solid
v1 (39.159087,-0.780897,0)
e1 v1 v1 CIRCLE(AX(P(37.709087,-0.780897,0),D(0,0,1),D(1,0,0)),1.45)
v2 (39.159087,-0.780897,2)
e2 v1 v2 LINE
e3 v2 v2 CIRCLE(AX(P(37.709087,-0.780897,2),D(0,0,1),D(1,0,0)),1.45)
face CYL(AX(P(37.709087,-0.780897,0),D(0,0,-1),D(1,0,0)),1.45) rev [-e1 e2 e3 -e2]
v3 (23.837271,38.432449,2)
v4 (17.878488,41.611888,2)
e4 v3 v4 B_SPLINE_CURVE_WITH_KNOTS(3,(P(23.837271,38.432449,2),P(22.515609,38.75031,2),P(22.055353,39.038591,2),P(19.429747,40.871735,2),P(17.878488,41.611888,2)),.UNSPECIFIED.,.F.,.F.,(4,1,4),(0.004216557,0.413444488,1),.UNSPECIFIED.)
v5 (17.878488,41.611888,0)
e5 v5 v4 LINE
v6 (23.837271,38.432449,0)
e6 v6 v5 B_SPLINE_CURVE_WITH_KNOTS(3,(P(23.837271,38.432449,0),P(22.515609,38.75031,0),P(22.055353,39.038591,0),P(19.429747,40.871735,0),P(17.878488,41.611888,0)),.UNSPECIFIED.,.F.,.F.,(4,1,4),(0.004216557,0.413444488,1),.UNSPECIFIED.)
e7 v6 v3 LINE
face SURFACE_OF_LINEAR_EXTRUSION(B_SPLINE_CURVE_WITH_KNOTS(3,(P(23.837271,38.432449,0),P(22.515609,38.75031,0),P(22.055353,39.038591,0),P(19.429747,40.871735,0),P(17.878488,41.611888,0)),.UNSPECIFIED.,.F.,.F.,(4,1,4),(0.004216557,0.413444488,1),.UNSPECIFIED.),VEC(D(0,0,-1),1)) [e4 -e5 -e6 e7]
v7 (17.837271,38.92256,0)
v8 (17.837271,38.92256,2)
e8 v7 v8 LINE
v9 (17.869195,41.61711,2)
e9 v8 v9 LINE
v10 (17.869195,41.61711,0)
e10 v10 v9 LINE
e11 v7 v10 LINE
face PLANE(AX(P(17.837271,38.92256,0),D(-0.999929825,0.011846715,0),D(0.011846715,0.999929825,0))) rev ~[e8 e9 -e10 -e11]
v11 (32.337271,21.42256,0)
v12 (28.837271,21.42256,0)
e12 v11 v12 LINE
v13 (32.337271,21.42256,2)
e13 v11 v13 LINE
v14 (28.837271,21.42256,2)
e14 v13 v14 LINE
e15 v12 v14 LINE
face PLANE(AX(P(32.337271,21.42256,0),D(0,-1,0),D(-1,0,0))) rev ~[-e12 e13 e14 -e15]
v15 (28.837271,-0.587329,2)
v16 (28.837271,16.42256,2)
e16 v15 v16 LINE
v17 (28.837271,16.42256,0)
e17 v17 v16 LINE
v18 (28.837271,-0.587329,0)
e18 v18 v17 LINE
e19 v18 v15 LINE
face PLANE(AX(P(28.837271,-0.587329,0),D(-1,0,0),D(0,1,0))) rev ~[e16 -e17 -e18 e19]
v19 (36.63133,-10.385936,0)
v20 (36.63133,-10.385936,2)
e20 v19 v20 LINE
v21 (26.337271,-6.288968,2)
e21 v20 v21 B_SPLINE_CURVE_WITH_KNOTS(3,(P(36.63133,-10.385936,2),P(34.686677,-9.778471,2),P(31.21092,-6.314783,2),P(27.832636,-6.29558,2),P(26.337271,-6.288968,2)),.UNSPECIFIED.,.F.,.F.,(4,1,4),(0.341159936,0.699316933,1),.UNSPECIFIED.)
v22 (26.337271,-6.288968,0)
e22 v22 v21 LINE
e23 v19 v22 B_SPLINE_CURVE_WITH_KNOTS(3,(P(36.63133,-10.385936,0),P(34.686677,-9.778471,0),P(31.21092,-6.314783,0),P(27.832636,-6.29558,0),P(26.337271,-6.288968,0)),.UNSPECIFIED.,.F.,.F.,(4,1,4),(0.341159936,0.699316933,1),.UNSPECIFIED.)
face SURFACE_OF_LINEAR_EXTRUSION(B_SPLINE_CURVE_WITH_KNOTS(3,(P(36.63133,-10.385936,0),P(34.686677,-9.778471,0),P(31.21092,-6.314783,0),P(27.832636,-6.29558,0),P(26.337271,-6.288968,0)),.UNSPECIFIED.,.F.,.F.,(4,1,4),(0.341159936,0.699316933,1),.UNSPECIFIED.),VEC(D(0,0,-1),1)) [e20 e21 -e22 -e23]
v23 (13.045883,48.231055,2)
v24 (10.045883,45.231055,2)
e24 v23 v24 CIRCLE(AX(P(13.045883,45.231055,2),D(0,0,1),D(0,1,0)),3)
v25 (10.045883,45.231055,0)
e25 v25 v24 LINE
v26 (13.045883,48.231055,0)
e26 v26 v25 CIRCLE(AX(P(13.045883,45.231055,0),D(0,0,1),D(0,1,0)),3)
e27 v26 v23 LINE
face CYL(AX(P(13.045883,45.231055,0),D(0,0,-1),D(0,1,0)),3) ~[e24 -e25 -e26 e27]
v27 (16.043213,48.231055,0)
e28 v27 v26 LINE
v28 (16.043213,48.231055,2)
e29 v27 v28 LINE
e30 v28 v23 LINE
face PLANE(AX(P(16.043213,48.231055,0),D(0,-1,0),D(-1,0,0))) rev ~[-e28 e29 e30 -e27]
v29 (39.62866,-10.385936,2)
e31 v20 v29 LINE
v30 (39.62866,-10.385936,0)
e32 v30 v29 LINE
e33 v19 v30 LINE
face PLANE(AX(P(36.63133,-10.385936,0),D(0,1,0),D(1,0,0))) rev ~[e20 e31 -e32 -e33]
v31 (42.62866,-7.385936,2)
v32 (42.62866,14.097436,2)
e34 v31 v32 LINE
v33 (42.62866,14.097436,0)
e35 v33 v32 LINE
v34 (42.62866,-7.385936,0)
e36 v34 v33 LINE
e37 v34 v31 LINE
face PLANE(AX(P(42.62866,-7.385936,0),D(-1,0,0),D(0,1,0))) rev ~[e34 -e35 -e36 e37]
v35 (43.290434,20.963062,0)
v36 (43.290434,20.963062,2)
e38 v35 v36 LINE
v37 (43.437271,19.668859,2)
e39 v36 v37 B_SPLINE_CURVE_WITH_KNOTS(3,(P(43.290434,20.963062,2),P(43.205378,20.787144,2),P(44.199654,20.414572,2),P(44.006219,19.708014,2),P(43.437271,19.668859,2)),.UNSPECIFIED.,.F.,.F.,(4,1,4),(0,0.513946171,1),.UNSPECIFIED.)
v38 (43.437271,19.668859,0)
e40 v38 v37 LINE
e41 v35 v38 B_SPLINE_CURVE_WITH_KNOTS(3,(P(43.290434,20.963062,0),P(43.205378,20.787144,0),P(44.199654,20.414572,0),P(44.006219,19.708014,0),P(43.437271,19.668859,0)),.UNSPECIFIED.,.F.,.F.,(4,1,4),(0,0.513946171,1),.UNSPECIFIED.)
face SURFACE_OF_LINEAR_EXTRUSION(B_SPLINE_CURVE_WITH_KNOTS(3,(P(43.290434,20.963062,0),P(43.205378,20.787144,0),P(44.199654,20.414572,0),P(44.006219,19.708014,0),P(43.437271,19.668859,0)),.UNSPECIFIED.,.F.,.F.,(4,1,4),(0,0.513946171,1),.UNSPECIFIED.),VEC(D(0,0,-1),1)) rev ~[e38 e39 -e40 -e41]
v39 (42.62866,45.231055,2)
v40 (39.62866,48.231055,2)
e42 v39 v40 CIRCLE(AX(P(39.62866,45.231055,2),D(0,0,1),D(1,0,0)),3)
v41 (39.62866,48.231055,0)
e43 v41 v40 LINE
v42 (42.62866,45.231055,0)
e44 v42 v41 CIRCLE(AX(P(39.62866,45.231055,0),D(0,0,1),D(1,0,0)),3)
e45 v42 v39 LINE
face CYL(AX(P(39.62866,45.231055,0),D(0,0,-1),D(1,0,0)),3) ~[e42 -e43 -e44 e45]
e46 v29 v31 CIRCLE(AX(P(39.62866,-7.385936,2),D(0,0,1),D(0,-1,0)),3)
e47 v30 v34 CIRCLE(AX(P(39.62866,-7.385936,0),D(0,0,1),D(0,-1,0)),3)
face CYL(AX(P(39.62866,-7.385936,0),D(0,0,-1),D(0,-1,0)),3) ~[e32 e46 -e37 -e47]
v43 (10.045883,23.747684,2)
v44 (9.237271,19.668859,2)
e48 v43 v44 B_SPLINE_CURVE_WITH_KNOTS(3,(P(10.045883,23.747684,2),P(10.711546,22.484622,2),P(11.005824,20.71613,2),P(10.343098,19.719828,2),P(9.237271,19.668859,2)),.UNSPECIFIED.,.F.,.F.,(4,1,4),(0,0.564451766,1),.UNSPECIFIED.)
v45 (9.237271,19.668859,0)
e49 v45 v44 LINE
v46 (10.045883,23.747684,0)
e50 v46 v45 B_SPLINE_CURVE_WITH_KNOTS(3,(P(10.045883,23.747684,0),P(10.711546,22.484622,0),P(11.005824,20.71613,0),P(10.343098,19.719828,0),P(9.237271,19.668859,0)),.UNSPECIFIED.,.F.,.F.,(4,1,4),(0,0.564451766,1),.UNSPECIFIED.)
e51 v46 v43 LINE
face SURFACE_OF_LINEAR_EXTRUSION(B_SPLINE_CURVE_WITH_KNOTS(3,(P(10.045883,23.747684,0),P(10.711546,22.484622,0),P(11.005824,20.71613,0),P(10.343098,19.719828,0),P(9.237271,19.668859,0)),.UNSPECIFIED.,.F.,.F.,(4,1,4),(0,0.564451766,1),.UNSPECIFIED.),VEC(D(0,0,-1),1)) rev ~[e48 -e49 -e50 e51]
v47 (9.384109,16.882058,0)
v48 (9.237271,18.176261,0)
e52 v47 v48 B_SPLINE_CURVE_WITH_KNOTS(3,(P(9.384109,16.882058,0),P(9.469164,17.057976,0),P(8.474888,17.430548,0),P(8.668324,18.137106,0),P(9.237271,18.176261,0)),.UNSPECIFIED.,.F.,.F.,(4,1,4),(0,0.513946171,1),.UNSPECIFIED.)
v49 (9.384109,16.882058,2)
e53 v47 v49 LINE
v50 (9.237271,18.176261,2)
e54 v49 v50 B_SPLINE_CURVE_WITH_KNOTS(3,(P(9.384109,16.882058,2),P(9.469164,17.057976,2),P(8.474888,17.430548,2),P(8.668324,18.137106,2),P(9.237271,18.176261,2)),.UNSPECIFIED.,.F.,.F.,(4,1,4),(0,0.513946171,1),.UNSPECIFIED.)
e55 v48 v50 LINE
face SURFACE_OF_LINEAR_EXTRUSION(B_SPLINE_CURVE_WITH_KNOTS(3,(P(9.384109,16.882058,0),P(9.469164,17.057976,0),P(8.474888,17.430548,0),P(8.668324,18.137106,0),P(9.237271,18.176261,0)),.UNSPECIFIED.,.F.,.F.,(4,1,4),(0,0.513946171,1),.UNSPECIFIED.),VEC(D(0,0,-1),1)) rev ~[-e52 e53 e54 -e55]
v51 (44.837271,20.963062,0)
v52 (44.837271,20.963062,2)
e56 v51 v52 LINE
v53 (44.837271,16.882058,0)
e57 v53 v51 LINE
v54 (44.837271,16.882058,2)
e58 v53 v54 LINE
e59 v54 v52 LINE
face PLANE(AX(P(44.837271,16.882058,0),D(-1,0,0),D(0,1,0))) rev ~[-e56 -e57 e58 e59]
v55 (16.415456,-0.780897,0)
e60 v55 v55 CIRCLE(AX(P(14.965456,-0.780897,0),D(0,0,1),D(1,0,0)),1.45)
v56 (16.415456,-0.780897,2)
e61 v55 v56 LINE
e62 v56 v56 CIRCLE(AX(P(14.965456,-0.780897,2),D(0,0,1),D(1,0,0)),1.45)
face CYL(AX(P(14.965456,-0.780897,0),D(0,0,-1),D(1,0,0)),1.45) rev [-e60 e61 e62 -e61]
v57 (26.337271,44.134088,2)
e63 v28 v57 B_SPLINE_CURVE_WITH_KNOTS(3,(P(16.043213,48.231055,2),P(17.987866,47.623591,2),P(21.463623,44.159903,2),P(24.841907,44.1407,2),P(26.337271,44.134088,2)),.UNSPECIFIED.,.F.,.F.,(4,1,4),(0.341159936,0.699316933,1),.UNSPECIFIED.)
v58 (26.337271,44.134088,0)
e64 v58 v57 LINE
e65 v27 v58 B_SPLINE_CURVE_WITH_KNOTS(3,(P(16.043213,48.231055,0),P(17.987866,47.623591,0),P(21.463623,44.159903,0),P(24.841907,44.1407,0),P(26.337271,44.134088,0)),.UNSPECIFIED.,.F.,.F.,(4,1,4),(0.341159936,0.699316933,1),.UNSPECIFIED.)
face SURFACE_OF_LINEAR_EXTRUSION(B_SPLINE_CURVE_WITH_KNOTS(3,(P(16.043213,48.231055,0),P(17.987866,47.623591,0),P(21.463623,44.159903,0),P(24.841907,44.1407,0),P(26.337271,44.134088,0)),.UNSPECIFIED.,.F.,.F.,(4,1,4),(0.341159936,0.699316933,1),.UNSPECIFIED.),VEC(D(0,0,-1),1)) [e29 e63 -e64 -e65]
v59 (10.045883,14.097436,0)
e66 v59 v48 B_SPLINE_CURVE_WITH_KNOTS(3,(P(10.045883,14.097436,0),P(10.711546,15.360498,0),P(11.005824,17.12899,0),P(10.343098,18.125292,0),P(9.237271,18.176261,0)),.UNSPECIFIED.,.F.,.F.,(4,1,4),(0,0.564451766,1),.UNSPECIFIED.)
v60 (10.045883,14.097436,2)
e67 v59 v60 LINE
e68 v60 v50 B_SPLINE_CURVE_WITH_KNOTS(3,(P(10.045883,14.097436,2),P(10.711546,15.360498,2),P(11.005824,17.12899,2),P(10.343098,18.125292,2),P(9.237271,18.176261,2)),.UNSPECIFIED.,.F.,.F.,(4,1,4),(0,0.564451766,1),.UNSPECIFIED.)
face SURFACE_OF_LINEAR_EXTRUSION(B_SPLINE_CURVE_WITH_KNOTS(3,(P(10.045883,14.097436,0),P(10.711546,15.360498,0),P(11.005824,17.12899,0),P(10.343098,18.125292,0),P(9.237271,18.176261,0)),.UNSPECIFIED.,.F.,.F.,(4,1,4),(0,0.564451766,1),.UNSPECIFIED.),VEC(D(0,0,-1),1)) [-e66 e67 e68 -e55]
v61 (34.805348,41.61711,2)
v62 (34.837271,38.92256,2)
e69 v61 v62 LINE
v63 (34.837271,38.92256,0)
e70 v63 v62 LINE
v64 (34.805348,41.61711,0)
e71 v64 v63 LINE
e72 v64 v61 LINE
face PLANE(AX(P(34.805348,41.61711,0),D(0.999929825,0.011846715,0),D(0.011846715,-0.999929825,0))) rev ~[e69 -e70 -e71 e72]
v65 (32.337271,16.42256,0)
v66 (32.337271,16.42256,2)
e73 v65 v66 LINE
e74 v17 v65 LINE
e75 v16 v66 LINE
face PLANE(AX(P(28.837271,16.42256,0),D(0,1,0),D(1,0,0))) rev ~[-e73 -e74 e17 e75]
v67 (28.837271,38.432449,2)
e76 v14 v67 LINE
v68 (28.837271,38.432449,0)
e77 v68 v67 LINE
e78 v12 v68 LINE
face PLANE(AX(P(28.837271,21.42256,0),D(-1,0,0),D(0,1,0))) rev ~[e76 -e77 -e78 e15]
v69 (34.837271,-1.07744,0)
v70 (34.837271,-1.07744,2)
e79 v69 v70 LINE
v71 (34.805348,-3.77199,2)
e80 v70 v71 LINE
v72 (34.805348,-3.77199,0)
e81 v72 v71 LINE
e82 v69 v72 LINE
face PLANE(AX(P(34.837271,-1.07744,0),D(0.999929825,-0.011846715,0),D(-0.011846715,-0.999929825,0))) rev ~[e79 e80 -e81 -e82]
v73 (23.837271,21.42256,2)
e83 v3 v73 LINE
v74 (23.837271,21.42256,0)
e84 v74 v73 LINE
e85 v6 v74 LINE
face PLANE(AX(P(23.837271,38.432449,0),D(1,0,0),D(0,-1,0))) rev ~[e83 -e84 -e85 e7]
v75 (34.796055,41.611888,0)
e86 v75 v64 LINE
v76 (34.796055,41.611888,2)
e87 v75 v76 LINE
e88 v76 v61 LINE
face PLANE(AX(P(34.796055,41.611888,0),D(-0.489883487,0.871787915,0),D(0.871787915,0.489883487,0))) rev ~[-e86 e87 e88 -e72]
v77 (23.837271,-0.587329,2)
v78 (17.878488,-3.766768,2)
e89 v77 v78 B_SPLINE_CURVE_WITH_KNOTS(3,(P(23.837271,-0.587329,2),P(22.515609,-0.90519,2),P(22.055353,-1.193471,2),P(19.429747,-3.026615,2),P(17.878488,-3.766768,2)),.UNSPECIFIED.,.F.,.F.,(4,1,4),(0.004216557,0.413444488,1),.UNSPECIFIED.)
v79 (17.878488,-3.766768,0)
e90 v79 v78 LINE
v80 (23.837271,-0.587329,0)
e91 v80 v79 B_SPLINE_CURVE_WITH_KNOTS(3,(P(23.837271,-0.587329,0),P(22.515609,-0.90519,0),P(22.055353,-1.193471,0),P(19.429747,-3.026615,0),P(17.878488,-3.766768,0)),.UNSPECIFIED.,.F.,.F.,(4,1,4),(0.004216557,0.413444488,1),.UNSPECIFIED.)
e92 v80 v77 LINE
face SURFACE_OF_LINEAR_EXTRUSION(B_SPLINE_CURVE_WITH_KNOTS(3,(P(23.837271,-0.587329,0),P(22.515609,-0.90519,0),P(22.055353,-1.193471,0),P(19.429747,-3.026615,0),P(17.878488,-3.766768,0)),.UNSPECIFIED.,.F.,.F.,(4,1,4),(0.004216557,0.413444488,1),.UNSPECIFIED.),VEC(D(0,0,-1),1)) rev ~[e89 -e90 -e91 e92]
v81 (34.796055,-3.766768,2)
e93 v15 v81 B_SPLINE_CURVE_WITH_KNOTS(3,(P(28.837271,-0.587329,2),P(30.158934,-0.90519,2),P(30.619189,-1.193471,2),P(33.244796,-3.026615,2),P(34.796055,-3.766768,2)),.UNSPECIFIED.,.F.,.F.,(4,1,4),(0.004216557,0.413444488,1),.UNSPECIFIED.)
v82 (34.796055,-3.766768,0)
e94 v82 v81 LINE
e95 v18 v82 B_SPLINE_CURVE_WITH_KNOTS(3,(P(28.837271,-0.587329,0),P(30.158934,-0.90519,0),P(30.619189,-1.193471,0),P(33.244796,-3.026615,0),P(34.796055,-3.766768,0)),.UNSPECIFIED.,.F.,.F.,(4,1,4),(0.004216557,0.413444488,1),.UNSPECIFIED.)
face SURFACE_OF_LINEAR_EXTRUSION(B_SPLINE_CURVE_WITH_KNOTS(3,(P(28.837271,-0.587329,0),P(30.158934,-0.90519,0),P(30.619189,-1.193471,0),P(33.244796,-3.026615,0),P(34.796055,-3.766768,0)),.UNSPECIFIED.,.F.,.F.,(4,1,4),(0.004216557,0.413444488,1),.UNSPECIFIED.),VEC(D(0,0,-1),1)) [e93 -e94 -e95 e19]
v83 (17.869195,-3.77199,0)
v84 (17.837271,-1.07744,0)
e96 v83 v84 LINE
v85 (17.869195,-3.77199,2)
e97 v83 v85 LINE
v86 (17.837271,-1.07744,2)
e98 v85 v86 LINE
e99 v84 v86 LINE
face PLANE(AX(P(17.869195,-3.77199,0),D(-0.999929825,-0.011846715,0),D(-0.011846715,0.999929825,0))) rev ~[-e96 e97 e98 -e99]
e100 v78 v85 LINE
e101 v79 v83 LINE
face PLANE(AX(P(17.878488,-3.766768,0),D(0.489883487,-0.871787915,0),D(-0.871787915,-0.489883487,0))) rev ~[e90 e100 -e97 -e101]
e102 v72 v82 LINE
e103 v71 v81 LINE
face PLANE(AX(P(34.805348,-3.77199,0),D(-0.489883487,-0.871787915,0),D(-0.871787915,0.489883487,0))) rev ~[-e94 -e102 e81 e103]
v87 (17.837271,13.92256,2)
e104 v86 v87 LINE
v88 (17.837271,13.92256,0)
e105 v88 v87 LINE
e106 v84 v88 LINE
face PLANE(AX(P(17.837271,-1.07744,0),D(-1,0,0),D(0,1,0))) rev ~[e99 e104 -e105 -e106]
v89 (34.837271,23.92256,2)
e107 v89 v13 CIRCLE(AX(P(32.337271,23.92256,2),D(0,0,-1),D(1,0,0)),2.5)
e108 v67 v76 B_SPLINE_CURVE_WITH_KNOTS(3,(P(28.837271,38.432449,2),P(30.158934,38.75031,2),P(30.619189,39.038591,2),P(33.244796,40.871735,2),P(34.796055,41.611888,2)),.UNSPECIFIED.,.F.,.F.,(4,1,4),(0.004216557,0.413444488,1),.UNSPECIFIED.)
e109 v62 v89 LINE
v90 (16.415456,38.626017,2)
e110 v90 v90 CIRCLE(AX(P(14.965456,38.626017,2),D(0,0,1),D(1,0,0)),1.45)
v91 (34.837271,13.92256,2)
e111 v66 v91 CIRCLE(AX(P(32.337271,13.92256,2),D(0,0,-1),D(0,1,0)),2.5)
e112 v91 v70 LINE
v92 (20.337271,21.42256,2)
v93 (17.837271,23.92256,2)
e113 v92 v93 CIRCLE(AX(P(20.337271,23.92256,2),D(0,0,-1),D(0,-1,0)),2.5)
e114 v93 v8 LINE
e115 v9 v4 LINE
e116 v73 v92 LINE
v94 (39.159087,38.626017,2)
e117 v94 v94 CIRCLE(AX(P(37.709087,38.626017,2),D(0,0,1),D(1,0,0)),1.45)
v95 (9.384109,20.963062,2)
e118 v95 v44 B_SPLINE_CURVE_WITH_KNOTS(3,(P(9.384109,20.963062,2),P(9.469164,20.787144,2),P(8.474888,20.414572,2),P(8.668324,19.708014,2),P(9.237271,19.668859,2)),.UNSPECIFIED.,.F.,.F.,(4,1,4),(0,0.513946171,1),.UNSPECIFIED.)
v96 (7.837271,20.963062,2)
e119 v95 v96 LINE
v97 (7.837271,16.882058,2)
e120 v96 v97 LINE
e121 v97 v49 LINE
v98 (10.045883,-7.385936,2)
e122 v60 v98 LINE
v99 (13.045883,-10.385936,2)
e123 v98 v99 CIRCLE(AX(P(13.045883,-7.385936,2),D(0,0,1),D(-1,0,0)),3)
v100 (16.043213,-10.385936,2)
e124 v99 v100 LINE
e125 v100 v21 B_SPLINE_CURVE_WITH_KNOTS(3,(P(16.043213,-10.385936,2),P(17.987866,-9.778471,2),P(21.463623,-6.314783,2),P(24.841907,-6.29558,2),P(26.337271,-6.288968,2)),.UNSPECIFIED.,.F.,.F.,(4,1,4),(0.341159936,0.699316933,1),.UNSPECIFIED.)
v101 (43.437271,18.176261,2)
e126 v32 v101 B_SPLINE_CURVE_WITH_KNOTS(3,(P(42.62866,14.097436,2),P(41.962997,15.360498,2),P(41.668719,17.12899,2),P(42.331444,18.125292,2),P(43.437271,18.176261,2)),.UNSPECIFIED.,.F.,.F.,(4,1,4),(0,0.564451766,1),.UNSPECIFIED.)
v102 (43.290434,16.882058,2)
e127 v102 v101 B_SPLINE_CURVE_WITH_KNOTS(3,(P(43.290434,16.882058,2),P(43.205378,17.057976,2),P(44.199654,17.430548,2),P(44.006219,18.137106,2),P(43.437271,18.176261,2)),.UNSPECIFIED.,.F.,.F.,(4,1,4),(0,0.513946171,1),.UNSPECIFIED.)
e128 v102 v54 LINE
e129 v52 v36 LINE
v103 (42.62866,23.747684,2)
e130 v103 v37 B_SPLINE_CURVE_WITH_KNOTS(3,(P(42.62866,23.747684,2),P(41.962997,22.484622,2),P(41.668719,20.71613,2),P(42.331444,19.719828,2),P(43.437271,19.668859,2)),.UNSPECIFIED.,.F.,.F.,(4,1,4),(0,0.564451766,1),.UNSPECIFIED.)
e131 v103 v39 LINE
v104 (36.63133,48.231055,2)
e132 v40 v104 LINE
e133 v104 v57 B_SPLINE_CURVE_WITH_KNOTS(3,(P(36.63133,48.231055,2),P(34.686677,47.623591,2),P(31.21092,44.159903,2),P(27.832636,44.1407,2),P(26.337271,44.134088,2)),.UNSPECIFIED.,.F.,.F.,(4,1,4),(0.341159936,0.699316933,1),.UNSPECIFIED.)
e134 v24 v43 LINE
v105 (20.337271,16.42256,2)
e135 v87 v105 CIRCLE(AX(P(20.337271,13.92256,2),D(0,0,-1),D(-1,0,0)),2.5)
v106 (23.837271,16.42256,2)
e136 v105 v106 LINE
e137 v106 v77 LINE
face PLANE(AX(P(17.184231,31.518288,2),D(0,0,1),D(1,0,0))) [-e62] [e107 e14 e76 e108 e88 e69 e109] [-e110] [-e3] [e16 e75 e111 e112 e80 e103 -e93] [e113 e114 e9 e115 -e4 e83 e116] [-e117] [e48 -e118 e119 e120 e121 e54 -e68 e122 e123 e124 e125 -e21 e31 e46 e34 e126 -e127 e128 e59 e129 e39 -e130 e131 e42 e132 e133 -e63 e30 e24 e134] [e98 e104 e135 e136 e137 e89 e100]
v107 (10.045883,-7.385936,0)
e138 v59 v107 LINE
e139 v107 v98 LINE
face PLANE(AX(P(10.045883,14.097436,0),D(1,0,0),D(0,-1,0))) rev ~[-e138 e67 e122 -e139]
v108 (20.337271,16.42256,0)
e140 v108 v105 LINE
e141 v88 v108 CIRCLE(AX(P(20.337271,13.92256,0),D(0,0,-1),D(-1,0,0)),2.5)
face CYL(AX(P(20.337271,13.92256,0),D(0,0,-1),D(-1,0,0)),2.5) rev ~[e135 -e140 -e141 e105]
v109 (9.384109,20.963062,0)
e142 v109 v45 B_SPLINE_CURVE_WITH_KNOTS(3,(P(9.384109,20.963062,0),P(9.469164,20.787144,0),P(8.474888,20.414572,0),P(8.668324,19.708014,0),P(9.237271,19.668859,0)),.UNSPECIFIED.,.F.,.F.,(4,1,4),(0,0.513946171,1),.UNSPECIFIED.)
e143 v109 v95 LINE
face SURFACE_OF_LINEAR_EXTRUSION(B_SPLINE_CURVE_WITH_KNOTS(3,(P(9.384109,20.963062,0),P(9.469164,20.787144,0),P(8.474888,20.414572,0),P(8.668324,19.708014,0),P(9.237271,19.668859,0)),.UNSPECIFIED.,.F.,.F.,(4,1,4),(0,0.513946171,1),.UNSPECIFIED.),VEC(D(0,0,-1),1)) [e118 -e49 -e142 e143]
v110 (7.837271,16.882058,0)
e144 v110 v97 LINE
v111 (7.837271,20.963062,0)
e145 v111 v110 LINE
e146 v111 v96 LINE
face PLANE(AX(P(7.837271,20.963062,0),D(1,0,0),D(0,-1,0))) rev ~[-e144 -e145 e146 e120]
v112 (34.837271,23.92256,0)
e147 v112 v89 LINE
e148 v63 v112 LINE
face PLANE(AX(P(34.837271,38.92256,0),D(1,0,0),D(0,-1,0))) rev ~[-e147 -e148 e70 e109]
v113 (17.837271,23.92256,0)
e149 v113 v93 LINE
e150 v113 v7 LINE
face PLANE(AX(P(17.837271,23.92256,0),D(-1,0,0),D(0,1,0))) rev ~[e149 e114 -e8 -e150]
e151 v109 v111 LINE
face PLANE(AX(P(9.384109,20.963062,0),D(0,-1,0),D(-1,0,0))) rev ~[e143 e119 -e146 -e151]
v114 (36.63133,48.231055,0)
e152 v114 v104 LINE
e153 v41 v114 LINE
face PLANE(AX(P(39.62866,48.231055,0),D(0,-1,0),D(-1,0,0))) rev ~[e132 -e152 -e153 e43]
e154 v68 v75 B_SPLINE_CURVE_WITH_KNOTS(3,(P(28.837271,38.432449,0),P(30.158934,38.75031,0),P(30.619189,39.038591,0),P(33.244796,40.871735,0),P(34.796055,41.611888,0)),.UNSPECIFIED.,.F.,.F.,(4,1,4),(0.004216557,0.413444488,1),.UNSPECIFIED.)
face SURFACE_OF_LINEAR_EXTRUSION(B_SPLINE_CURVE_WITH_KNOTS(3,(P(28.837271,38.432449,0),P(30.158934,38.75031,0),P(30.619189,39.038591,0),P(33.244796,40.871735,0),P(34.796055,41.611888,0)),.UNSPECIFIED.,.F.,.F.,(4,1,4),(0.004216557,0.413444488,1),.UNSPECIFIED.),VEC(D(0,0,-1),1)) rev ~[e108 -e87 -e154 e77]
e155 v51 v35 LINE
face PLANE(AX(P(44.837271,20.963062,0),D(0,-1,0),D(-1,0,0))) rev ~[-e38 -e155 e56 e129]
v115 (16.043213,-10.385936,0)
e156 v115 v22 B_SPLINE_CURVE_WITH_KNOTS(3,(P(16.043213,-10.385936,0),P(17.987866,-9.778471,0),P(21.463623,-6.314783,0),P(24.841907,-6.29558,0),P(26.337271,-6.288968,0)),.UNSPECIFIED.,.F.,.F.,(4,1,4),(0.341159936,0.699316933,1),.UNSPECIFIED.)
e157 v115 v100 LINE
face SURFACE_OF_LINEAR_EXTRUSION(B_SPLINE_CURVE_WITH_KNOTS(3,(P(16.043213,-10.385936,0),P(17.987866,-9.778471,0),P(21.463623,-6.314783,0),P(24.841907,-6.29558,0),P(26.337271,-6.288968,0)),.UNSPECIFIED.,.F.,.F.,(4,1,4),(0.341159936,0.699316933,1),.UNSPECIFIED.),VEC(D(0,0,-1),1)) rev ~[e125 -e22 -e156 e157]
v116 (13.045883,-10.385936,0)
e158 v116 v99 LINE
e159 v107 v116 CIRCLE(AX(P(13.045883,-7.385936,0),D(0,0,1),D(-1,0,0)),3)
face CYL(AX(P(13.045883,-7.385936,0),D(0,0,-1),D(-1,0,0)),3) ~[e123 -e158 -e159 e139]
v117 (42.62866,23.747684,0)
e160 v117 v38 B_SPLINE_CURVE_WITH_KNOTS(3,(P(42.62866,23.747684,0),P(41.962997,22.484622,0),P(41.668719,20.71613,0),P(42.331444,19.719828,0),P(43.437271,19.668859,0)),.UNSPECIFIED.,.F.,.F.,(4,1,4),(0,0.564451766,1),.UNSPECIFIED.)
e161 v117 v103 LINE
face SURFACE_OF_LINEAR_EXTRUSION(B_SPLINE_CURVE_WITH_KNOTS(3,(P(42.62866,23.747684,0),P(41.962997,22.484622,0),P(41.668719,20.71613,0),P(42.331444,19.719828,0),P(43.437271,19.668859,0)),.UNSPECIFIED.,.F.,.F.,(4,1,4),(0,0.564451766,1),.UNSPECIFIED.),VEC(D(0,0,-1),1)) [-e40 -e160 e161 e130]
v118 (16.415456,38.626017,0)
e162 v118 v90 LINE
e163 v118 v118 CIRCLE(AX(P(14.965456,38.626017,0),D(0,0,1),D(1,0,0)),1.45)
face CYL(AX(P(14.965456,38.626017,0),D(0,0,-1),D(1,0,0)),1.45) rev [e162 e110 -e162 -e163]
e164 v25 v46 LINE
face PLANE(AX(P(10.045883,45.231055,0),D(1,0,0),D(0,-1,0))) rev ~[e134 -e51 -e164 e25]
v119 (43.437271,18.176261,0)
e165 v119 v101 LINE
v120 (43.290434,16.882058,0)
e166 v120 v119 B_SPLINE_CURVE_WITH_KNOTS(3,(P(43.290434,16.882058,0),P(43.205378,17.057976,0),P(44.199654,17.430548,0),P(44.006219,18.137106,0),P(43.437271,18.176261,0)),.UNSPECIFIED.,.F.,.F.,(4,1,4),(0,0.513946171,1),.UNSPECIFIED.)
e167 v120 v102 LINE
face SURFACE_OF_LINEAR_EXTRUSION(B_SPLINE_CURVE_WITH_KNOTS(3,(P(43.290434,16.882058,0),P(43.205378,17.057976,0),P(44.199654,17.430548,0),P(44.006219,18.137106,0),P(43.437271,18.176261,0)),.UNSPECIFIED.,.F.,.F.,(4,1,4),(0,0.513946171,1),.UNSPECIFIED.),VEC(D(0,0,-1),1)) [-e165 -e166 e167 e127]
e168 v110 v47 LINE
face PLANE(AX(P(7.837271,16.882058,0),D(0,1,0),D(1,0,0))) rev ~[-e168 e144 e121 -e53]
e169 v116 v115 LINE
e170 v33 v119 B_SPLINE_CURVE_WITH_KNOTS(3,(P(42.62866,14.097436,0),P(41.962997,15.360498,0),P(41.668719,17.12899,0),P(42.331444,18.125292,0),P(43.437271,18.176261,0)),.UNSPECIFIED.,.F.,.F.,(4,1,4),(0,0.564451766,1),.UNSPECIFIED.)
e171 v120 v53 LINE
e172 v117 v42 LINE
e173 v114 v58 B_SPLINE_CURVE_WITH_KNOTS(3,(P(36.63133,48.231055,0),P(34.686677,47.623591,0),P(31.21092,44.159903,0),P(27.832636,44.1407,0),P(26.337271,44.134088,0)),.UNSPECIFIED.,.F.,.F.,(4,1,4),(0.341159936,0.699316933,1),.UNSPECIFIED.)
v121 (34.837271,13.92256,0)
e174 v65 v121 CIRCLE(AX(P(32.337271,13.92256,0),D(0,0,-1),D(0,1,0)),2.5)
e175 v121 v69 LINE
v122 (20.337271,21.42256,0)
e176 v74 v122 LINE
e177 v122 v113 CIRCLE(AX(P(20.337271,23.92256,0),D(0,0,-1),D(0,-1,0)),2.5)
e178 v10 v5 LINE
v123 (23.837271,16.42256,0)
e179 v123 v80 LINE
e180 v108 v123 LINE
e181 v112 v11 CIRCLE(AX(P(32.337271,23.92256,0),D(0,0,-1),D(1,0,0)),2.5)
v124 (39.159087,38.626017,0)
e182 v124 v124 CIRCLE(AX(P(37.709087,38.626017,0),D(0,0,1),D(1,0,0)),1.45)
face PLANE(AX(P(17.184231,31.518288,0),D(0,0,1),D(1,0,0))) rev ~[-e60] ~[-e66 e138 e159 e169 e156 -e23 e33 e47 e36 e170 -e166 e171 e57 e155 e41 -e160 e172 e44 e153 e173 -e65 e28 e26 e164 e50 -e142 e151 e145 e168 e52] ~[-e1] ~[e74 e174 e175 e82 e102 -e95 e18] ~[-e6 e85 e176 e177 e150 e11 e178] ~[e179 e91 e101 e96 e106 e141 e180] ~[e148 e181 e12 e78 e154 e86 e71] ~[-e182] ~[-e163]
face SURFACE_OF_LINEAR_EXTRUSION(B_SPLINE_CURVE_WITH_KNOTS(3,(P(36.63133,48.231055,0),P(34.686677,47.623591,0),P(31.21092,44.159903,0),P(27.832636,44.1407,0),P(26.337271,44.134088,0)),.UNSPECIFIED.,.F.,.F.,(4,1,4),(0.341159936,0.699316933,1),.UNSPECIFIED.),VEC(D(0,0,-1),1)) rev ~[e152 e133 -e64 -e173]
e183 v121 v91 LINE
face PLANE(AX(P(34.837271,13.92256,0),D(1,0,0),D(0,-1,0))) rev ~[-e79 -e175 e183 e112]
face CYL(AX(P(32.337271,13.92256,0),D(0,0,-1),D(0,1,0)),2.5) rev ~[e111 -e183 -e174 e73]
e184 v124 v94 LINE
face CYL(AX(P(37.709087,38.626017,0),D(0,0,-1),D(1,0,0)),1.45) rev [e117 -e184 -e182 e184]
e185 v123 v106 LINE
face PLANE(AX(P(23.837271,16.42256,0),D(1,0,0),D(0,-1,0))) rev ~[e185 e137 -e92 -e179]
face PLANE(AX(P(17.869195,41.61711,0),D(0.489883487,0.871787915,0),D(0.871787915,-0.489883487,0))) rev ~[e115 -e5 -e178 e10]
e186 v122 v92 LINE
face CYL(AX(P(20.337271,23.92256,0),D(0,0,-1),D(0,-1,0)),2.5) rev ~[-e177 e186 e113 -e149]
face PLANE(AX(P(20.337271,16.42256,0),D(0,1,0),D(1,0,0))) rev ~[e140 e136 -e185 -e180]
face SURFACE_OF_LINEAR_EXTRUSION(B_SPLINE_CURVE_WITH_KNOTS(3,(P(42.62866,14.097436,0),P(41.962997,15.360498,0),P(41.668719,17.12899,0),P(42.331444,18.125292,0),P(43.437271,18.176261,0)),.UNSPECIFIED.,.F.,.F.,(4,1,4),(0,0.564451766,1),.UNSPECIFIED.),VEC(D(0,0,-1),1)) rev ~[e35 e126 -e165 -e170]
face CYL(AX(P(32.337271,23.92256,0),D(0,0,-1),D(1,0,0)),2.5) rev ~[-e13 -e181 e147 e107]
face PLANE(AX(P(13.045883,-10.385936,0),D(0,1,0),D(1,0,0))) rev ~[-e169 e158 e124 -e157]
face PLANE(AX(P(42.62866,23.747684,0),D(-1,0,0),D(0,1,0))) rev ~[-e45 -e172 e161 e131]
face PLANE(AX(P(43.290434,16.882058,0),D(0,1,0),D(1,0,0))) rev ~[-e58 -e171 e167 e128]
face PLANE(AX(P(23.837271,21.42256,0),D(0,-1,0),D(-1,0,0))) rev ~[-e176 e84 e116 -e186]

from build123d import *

# Parameters (mm, degrees)
F0_R     = 1.45
F1_DEPTH = 2


with BuildPart() as f1:
    # F0 (on Top) → F1 (new body)
    with BuildSketch(Plane.XY):
        with BuildLine():
            Line((16.0432131672, 48.2310554204), (13.0458830723, 48.2310554204))
            ThreePointArc((13.0458830723, 48.2310554204), (10.9245627287, 47.352375764), (10.0458830723, 45.2310554204))
            Line((10.0458830723, 45.2310554204), (10.0458830723, 23.7476840101))
            add(Edge.make_bspline(
                [(10.0458830723, 23.7476840101), (10.7115456302, 22.4846217094), (11.005823731, 20.7161298766), (10.3430984406, 19.7198280209), (9.2372713755, 19.6688592385)],
                knots=[0, 0, 0, 0, 0.5644517657, 1, 1, 1, 1], degree=3))
            add(Edge.make_bspline(
                [(9.3841085265, 20.9630623411), (9.4691643546, 20.7871442379), (8.4748883735, 20.4145718213), (8.6683240442, 19.7080140495), (9.2372713755, 19.6688592385)],
                knots=[0, 0, 0, 0, 0.5139461709, 1, 1, 1, 1], degree=3))
            Line((9.3841085265, 20.9630623411), (8.2844858954, 20.9630623411))
            Line((8.2844858954, 20.9630623411), (7.8372713755, 20.9630623411))
            Line((7.8372713755, 20.9630623411), (7.8372713755, 18.9225599587))
            Line((7.8372713755, 18.9225599587), (26.3372713755, 18.9225599587))
            Line((26.3372713755, 18.9225599587), (26.3372713755, 44.1340877949))
            add(Edge.make_bspline(
                [(16.0432131672, 48.2310554204), (17.9878656476, 47.6235912963), (21.4636227702, 44.1599026946), (24.841907136, 44.140700061), (26.3372713755, 44.1340877949)],
                knots=[0.341159936, 0.341159936, 0.341159936, 0.341159936, 0.6993169326, 1, 1, 1, 1], degree=3))
        make_face()
        with BuildLine():
            add(Edge.make_bspline(
                [(23.8372713755, 38.432449385), (22.5156090399, 38.7503102684), (22.055353444, 39.0385909711), (19.4297470837, 40.8717350173), (17.8784877062, 41.6118882482)],
                knots=[0.0042165568, 0.0042165568, 0.0042165568, 0.0042165568, 0.4134444878, 1, 1, 1, 1], degree=3))
            Line((23.8372713755, 38.432449385), (23.8372713755, 23.1634433148))
            Line((23.8372713755, 23.1634433148), (23.8372713755, 21.4225599587))
            Line((23.8372713755, 21.4225599587), (22.228775843, 21.4225599587))
            Line((22.228775843, 21.4225599587), (20.3372713755, 21.4225599587))
            ThreePointArc((20.3372713755, 21.4225599587), (18.5695044225, 22.1547930057), (17.8372713755, 23.9225599587))
            Line((17.8372713755, 23.9225599587), (17.8372713755, 38.9225599587))
            Line((17.8372713755, 38.9225599587), (17.8691951823, 41.617109993))
            Line((17.8691951823, 41.617109993), (17.8784877062, 41.6118882482))
        make_face(mode=Mode.SUBTRACT)
        with Locations((14.9654557983, 38.6260170906)):
            Circle(F0_R, mode=Mode.SUBTRACT)
        with BuildLine():
            add(Edge.make_bspline(
                [(36.6313295837, 48.2310554204), (34.6866771033, 47.6235912963), (31.2109199807, 44.1599026946), (27.8326356149, 44.140700061), (26.3372713755, 44.1340877949)],
                knots=[0.341159936, 0.341159936, 0.341159936, 0.341159936, 0.6993169326, 1, 1, 1, 1], degree=3))
            Line((26.3372713755, 44.1340877949), (26.3372713755, 18.9225599587))
            Line((26.3372713755, 18.9225599587), (44.8372713755, 18.9225599587))
            Line((44.8372713755, 18.9225599587), (44.8372713755, 20.9630623411))
            Line((44.8372713755, 20.9630623411), (44.3900568555, 20.9630623411))
            Line((44.3900568555, 20.9630623411), (43.2904342244, 20.9630623411))
            add(Edge.make_bspline(
                [(43.2904342244, 20.9630623411), (43.2053783963, 20.7871442379), (44.1996543774, 20.4145718213), (44.0062187067, 19.7080140495), (43.4372713755, 19.6688592385)],
                knots=[0, 0, 0, 0, 0.5139461709, 1, 1, 1, 1], degree=3))
            add(Edge.make_bspline(
                [(42.6286596786, 23.7476840101), (41.9629971207, 22.4846217094), (41.6687190199, 20.7161298766), (42.3314443103, 19.7198280209), (43.4372713755, 19.6688592385)],
                knots=[0, 0, 0, 0, 0.5644517657, 1, 1, 1, 1], degree=3))
            Line((42.6286596786, 23.7476840101), (42.6286596786, 45.2310554204))
            ThreePointArc((42.6286596786, 45.2310554204), (41.7499800222, 47.352375764), (39.6286596786, 48.2310554204))
            Line((39.6286596786, 48.2310554204), (36.6313295837, 48.2310554204))
        make_face()
        with BuildLine():
            add(Edge.make_bspline(
                [(28.8372713755, 38.432449385), (30.158933711, 38.7503102684), (30.619189307, 39.0385909711), (33.2447956672, 40.8717350173), (34.7960550447, 41.6118882482)],
                knots=[0.0042165568, 0.0042165568, 0.0042165568, 0.0042165568, 0.4134444878, 1, 1, 1, 1], degree=3))
            Line((34.7960550447, 41.6118882482), (34.8053475686, 41.617109993))
            Line((34.8053475686, 41.617109993), (34.8372713755, 38.9225599587))
            Line((34.8372713755, 38.9225599587), (34.8372713755, 23.9225599587))
            ThreePointArc((34.8372713755, 23.9225599587), (34.1050383284, 22.1547930057), (32.3372713755, 21.4225599587))
            Line((32.3372713755, 21.4225599587), (30.4457669079, 21.4225599587))
            Line((30.4457669079, 21.4225599587), (28.8372713755, 21.4225599587))
            Line((28.8372713755, 21.4225599587), (28.8372713755, 23.1634433148))
            Line((28.8372713755, 23.1634433148), (28.8372713755, 38.432449385))
        make_face(mode=Mode.SUBTRACT)
        with Locations((37.7090869526, 38.6260170906)):
            Circle(F0_R, mode=Mode.SUBTRACT)
        with BuildLine():
            Line((44.8372713755, 18.9225599587), (26.3372713755, 18.9225599587))
            Line((26.3372713755, 18.9225599587), (26.3372713755, -6.2889678775))
            add(Edge.make_bspline(
                [(36.6313295837, -10.3859355031), (34.6866771033, -9.7784713789), (31.2109199807, -6.3147827772), (27.8326356149, -6.2955801437), (26.3372713755, -6.2889678775)],
                knots=[0.341159936, 0.341159936, 0.341159936, 0.341159936, 0.6993169326, 1, 1, 1, 1], degree=3))
            Line((36.6313295837, -10.3859355031), (39.6286596786, -10.3859355031))
            ThreePointArc((39.6286596786, -10.3859355031), (41.7499800222, -9.5072558467), (42.6286596786, -7.3859355031))
            Line((42.6286596786, -7.3859355031), (42.6286596786, 14.0974359072))
            add(Edge.make_bspline(
                [(42.6286596786, 14.0974359072), (41.9629971207, 15.3604982079), (41.6687190199, 17.1289900407), (42.3314443103, 18.1252918964), (43.4372713755, 18.1762606788)],
                knots=[0, 0, 0, 0, 0.5644517657, 1, 1, 1, 1], degree=3))
            add(Edge.make_bspline(
                [(43.2904342244, 16.8820575762), (43.2053783963, 17.0579756794), (44.1996543774, 17.430548096), (44.0062187067, 18.1371058678), (43.4372713755, 18.1762606788)],
                knots=[0, 0, 0, 0, 0.5139461709, 1, 1, 1, 1], degree=3))
            Line((43.2904342244, 16.8820575762), (44.3900568555, 16.8820575762))
            Line((44.3900568555, 16.8820575762), (44.8372713755, 16.8820575762))
            Line((44.8372713755, 16.8820575762), (44.8372713755, 18.9225599587))
        make_face()
        with Locations((37.7090869526, -0.7808971733)):
            Circle(F0_R, mode=Mode.SUBTRACT)
        with BuildLine():
            Line((34.8053475686, -3.7719900757), (34.7960550447, -3.7667683309))
            add(Edge.make_bspline(
                [(28.8372713755, -0.5873294677), (30.158933711, -0.9051903511), (30.619189307, -1.1934710537), (33.2447956672, -3.0266151), (34.7960550447, -3.7667683309)],
                knots=[0.0042165568, 0.0042165568, 0.0042165568, 0.0042165568, 0.4134444878, 1, 1, 1, 1], degree=3))
            Line((28.8372713755, -0.5873294677), (28.8372713755, 14.6816766025))
            Line((28.8372713755, 14.6816766025), (28.8372713755, 16.4225599587))
            Line((28.8372713755, 16.4225599587), (30.4457669079, 16.4225599587))
            Line((30.4457669079, 16.4225599587), (32.3372713755, 16.4225599587))
            ThreePointArc((32.3372713755, 16.4225599587), (34.1050383284, 15.6903269116), (34.8372713755, 13.9225599587))
            Line((34.8372713755, 13.9225599587), (34.8372713755, -1.0774400413))
            Line((34.8372713755, -1.0774400413), (34.8053475686, -3.7719900757))
        make_face(mode=Mode.SUBTRACT)
        with BuildLine():
            Line((26.3372713755, -6.2889678775), (26.3372713755, 18.9225599587))
            Line((26.3372713755, 18.9225599587), (7.8372713755, 18.9225599587))
            Line((7.8372713755, 18.9225599587), (7.8372713755, 16.8820575762))
            Line((7.8372713755, 16.8820575762), (8.2844858954, 16.8820575762))
            Line((8.2844858954, 16.8820575762), (9.3841085265, 16.8820575762))
            add(Edge.make_bspline(
                [(9.3841085265, 16.8820575762), (9.4691643546, 17.0579756794), (8.4748883735, 17.430548096), (8.6683240442, 18.1371058678), (9.2372713755, 18.1762606788)],
                knots=[0, 0, 0, 0, 0.5139461709, 1, 1, 1, 1], degree=3))
            add(Edge.make_bspline(
                [(10.0458830723, 14.0974359072), (10.7115456302, 15.3604982079), (11.005823731, 17.1289900407), (10.3430984406, 18.1252918964), (9.2372713755, 18.1762606788)],
                knots=[0, 0, 0, 0, 0.5644517657, 1, 1, 1, 1], degree=3))
            Line((10.0458830723, 14.0974359072), (10.0458830723, -7.3859355031))
            ThreePointArc((10.0458830723, -7.3859355031), (10.9245627287, -9.5072558467), (13.0458830723, -10.3859355031))
            Line((13.0458830723, -10.3859355031), (16.0432131672, -10.3859355031))
            add(Edge.make_bspline(
                [(16.0432131672, -10.3859355031), (17.9878656476, -9.7784713789), (21.4636227702, -6.3147827772), (24.841907136, -6.2955801437), (26.3372713755, -6.2889678775)],
                knots=[0.341159936, 0.341159936, 0.341159936, 0.341159936, 0.6993169326, 1, 1, 1, 1], degree=3))
        make_face()
        with Locations((14.9654557983, -0.7808971733)):
            Circle(F0_R, mode=Mode.SUBTRACT)
        with BuildLine():
            add(Edge.make_bspline(
                [(23.8372713755, -0.5873294677), (22.5156090399, -0.9051903511), (22.055353444, -1.1934710537), (19.4297470837, -3.0266151), (17.8784877062, -3.7667683309)],
                knots=[0.0042165568, 0.0042165568, 0.0042165568, 0.0042165568, 0.4134444878, 1, 1, 1, 1], degree=3))
            Line((17.8784877062, -3.7667683309), (17.8691951823, -3.7719900757))
            Line((17.8691951823, -3.7719900757), (17.8372713755, -1.0774400413))
            Line((17.8372713755, -1.0774400413), (17.8372713755, 13.9225599587))
            ThreePointArc((17.8372713755, 13.9225599587), (18.5695044225, 15.6903269116), (20.3372713755, 16.4225599587))
            Line((20.3372713755, 16.4225599587), (22.228775843, 16.4225599587))
            Line((22.228775843, 16.4225599587), (23.8372713755, 16.4225599587))
            Line((23.8372713755, 16.4225599587), (23.8372713755, 14.6816766025))
            Line((23.8372713755, 14.6816766025), (23.8372713755, -0.5873294677))
        make_face(mode=Mode.SUBTRACT)
    extrude(amount=F1_DEPTH)


solid = f1.part
